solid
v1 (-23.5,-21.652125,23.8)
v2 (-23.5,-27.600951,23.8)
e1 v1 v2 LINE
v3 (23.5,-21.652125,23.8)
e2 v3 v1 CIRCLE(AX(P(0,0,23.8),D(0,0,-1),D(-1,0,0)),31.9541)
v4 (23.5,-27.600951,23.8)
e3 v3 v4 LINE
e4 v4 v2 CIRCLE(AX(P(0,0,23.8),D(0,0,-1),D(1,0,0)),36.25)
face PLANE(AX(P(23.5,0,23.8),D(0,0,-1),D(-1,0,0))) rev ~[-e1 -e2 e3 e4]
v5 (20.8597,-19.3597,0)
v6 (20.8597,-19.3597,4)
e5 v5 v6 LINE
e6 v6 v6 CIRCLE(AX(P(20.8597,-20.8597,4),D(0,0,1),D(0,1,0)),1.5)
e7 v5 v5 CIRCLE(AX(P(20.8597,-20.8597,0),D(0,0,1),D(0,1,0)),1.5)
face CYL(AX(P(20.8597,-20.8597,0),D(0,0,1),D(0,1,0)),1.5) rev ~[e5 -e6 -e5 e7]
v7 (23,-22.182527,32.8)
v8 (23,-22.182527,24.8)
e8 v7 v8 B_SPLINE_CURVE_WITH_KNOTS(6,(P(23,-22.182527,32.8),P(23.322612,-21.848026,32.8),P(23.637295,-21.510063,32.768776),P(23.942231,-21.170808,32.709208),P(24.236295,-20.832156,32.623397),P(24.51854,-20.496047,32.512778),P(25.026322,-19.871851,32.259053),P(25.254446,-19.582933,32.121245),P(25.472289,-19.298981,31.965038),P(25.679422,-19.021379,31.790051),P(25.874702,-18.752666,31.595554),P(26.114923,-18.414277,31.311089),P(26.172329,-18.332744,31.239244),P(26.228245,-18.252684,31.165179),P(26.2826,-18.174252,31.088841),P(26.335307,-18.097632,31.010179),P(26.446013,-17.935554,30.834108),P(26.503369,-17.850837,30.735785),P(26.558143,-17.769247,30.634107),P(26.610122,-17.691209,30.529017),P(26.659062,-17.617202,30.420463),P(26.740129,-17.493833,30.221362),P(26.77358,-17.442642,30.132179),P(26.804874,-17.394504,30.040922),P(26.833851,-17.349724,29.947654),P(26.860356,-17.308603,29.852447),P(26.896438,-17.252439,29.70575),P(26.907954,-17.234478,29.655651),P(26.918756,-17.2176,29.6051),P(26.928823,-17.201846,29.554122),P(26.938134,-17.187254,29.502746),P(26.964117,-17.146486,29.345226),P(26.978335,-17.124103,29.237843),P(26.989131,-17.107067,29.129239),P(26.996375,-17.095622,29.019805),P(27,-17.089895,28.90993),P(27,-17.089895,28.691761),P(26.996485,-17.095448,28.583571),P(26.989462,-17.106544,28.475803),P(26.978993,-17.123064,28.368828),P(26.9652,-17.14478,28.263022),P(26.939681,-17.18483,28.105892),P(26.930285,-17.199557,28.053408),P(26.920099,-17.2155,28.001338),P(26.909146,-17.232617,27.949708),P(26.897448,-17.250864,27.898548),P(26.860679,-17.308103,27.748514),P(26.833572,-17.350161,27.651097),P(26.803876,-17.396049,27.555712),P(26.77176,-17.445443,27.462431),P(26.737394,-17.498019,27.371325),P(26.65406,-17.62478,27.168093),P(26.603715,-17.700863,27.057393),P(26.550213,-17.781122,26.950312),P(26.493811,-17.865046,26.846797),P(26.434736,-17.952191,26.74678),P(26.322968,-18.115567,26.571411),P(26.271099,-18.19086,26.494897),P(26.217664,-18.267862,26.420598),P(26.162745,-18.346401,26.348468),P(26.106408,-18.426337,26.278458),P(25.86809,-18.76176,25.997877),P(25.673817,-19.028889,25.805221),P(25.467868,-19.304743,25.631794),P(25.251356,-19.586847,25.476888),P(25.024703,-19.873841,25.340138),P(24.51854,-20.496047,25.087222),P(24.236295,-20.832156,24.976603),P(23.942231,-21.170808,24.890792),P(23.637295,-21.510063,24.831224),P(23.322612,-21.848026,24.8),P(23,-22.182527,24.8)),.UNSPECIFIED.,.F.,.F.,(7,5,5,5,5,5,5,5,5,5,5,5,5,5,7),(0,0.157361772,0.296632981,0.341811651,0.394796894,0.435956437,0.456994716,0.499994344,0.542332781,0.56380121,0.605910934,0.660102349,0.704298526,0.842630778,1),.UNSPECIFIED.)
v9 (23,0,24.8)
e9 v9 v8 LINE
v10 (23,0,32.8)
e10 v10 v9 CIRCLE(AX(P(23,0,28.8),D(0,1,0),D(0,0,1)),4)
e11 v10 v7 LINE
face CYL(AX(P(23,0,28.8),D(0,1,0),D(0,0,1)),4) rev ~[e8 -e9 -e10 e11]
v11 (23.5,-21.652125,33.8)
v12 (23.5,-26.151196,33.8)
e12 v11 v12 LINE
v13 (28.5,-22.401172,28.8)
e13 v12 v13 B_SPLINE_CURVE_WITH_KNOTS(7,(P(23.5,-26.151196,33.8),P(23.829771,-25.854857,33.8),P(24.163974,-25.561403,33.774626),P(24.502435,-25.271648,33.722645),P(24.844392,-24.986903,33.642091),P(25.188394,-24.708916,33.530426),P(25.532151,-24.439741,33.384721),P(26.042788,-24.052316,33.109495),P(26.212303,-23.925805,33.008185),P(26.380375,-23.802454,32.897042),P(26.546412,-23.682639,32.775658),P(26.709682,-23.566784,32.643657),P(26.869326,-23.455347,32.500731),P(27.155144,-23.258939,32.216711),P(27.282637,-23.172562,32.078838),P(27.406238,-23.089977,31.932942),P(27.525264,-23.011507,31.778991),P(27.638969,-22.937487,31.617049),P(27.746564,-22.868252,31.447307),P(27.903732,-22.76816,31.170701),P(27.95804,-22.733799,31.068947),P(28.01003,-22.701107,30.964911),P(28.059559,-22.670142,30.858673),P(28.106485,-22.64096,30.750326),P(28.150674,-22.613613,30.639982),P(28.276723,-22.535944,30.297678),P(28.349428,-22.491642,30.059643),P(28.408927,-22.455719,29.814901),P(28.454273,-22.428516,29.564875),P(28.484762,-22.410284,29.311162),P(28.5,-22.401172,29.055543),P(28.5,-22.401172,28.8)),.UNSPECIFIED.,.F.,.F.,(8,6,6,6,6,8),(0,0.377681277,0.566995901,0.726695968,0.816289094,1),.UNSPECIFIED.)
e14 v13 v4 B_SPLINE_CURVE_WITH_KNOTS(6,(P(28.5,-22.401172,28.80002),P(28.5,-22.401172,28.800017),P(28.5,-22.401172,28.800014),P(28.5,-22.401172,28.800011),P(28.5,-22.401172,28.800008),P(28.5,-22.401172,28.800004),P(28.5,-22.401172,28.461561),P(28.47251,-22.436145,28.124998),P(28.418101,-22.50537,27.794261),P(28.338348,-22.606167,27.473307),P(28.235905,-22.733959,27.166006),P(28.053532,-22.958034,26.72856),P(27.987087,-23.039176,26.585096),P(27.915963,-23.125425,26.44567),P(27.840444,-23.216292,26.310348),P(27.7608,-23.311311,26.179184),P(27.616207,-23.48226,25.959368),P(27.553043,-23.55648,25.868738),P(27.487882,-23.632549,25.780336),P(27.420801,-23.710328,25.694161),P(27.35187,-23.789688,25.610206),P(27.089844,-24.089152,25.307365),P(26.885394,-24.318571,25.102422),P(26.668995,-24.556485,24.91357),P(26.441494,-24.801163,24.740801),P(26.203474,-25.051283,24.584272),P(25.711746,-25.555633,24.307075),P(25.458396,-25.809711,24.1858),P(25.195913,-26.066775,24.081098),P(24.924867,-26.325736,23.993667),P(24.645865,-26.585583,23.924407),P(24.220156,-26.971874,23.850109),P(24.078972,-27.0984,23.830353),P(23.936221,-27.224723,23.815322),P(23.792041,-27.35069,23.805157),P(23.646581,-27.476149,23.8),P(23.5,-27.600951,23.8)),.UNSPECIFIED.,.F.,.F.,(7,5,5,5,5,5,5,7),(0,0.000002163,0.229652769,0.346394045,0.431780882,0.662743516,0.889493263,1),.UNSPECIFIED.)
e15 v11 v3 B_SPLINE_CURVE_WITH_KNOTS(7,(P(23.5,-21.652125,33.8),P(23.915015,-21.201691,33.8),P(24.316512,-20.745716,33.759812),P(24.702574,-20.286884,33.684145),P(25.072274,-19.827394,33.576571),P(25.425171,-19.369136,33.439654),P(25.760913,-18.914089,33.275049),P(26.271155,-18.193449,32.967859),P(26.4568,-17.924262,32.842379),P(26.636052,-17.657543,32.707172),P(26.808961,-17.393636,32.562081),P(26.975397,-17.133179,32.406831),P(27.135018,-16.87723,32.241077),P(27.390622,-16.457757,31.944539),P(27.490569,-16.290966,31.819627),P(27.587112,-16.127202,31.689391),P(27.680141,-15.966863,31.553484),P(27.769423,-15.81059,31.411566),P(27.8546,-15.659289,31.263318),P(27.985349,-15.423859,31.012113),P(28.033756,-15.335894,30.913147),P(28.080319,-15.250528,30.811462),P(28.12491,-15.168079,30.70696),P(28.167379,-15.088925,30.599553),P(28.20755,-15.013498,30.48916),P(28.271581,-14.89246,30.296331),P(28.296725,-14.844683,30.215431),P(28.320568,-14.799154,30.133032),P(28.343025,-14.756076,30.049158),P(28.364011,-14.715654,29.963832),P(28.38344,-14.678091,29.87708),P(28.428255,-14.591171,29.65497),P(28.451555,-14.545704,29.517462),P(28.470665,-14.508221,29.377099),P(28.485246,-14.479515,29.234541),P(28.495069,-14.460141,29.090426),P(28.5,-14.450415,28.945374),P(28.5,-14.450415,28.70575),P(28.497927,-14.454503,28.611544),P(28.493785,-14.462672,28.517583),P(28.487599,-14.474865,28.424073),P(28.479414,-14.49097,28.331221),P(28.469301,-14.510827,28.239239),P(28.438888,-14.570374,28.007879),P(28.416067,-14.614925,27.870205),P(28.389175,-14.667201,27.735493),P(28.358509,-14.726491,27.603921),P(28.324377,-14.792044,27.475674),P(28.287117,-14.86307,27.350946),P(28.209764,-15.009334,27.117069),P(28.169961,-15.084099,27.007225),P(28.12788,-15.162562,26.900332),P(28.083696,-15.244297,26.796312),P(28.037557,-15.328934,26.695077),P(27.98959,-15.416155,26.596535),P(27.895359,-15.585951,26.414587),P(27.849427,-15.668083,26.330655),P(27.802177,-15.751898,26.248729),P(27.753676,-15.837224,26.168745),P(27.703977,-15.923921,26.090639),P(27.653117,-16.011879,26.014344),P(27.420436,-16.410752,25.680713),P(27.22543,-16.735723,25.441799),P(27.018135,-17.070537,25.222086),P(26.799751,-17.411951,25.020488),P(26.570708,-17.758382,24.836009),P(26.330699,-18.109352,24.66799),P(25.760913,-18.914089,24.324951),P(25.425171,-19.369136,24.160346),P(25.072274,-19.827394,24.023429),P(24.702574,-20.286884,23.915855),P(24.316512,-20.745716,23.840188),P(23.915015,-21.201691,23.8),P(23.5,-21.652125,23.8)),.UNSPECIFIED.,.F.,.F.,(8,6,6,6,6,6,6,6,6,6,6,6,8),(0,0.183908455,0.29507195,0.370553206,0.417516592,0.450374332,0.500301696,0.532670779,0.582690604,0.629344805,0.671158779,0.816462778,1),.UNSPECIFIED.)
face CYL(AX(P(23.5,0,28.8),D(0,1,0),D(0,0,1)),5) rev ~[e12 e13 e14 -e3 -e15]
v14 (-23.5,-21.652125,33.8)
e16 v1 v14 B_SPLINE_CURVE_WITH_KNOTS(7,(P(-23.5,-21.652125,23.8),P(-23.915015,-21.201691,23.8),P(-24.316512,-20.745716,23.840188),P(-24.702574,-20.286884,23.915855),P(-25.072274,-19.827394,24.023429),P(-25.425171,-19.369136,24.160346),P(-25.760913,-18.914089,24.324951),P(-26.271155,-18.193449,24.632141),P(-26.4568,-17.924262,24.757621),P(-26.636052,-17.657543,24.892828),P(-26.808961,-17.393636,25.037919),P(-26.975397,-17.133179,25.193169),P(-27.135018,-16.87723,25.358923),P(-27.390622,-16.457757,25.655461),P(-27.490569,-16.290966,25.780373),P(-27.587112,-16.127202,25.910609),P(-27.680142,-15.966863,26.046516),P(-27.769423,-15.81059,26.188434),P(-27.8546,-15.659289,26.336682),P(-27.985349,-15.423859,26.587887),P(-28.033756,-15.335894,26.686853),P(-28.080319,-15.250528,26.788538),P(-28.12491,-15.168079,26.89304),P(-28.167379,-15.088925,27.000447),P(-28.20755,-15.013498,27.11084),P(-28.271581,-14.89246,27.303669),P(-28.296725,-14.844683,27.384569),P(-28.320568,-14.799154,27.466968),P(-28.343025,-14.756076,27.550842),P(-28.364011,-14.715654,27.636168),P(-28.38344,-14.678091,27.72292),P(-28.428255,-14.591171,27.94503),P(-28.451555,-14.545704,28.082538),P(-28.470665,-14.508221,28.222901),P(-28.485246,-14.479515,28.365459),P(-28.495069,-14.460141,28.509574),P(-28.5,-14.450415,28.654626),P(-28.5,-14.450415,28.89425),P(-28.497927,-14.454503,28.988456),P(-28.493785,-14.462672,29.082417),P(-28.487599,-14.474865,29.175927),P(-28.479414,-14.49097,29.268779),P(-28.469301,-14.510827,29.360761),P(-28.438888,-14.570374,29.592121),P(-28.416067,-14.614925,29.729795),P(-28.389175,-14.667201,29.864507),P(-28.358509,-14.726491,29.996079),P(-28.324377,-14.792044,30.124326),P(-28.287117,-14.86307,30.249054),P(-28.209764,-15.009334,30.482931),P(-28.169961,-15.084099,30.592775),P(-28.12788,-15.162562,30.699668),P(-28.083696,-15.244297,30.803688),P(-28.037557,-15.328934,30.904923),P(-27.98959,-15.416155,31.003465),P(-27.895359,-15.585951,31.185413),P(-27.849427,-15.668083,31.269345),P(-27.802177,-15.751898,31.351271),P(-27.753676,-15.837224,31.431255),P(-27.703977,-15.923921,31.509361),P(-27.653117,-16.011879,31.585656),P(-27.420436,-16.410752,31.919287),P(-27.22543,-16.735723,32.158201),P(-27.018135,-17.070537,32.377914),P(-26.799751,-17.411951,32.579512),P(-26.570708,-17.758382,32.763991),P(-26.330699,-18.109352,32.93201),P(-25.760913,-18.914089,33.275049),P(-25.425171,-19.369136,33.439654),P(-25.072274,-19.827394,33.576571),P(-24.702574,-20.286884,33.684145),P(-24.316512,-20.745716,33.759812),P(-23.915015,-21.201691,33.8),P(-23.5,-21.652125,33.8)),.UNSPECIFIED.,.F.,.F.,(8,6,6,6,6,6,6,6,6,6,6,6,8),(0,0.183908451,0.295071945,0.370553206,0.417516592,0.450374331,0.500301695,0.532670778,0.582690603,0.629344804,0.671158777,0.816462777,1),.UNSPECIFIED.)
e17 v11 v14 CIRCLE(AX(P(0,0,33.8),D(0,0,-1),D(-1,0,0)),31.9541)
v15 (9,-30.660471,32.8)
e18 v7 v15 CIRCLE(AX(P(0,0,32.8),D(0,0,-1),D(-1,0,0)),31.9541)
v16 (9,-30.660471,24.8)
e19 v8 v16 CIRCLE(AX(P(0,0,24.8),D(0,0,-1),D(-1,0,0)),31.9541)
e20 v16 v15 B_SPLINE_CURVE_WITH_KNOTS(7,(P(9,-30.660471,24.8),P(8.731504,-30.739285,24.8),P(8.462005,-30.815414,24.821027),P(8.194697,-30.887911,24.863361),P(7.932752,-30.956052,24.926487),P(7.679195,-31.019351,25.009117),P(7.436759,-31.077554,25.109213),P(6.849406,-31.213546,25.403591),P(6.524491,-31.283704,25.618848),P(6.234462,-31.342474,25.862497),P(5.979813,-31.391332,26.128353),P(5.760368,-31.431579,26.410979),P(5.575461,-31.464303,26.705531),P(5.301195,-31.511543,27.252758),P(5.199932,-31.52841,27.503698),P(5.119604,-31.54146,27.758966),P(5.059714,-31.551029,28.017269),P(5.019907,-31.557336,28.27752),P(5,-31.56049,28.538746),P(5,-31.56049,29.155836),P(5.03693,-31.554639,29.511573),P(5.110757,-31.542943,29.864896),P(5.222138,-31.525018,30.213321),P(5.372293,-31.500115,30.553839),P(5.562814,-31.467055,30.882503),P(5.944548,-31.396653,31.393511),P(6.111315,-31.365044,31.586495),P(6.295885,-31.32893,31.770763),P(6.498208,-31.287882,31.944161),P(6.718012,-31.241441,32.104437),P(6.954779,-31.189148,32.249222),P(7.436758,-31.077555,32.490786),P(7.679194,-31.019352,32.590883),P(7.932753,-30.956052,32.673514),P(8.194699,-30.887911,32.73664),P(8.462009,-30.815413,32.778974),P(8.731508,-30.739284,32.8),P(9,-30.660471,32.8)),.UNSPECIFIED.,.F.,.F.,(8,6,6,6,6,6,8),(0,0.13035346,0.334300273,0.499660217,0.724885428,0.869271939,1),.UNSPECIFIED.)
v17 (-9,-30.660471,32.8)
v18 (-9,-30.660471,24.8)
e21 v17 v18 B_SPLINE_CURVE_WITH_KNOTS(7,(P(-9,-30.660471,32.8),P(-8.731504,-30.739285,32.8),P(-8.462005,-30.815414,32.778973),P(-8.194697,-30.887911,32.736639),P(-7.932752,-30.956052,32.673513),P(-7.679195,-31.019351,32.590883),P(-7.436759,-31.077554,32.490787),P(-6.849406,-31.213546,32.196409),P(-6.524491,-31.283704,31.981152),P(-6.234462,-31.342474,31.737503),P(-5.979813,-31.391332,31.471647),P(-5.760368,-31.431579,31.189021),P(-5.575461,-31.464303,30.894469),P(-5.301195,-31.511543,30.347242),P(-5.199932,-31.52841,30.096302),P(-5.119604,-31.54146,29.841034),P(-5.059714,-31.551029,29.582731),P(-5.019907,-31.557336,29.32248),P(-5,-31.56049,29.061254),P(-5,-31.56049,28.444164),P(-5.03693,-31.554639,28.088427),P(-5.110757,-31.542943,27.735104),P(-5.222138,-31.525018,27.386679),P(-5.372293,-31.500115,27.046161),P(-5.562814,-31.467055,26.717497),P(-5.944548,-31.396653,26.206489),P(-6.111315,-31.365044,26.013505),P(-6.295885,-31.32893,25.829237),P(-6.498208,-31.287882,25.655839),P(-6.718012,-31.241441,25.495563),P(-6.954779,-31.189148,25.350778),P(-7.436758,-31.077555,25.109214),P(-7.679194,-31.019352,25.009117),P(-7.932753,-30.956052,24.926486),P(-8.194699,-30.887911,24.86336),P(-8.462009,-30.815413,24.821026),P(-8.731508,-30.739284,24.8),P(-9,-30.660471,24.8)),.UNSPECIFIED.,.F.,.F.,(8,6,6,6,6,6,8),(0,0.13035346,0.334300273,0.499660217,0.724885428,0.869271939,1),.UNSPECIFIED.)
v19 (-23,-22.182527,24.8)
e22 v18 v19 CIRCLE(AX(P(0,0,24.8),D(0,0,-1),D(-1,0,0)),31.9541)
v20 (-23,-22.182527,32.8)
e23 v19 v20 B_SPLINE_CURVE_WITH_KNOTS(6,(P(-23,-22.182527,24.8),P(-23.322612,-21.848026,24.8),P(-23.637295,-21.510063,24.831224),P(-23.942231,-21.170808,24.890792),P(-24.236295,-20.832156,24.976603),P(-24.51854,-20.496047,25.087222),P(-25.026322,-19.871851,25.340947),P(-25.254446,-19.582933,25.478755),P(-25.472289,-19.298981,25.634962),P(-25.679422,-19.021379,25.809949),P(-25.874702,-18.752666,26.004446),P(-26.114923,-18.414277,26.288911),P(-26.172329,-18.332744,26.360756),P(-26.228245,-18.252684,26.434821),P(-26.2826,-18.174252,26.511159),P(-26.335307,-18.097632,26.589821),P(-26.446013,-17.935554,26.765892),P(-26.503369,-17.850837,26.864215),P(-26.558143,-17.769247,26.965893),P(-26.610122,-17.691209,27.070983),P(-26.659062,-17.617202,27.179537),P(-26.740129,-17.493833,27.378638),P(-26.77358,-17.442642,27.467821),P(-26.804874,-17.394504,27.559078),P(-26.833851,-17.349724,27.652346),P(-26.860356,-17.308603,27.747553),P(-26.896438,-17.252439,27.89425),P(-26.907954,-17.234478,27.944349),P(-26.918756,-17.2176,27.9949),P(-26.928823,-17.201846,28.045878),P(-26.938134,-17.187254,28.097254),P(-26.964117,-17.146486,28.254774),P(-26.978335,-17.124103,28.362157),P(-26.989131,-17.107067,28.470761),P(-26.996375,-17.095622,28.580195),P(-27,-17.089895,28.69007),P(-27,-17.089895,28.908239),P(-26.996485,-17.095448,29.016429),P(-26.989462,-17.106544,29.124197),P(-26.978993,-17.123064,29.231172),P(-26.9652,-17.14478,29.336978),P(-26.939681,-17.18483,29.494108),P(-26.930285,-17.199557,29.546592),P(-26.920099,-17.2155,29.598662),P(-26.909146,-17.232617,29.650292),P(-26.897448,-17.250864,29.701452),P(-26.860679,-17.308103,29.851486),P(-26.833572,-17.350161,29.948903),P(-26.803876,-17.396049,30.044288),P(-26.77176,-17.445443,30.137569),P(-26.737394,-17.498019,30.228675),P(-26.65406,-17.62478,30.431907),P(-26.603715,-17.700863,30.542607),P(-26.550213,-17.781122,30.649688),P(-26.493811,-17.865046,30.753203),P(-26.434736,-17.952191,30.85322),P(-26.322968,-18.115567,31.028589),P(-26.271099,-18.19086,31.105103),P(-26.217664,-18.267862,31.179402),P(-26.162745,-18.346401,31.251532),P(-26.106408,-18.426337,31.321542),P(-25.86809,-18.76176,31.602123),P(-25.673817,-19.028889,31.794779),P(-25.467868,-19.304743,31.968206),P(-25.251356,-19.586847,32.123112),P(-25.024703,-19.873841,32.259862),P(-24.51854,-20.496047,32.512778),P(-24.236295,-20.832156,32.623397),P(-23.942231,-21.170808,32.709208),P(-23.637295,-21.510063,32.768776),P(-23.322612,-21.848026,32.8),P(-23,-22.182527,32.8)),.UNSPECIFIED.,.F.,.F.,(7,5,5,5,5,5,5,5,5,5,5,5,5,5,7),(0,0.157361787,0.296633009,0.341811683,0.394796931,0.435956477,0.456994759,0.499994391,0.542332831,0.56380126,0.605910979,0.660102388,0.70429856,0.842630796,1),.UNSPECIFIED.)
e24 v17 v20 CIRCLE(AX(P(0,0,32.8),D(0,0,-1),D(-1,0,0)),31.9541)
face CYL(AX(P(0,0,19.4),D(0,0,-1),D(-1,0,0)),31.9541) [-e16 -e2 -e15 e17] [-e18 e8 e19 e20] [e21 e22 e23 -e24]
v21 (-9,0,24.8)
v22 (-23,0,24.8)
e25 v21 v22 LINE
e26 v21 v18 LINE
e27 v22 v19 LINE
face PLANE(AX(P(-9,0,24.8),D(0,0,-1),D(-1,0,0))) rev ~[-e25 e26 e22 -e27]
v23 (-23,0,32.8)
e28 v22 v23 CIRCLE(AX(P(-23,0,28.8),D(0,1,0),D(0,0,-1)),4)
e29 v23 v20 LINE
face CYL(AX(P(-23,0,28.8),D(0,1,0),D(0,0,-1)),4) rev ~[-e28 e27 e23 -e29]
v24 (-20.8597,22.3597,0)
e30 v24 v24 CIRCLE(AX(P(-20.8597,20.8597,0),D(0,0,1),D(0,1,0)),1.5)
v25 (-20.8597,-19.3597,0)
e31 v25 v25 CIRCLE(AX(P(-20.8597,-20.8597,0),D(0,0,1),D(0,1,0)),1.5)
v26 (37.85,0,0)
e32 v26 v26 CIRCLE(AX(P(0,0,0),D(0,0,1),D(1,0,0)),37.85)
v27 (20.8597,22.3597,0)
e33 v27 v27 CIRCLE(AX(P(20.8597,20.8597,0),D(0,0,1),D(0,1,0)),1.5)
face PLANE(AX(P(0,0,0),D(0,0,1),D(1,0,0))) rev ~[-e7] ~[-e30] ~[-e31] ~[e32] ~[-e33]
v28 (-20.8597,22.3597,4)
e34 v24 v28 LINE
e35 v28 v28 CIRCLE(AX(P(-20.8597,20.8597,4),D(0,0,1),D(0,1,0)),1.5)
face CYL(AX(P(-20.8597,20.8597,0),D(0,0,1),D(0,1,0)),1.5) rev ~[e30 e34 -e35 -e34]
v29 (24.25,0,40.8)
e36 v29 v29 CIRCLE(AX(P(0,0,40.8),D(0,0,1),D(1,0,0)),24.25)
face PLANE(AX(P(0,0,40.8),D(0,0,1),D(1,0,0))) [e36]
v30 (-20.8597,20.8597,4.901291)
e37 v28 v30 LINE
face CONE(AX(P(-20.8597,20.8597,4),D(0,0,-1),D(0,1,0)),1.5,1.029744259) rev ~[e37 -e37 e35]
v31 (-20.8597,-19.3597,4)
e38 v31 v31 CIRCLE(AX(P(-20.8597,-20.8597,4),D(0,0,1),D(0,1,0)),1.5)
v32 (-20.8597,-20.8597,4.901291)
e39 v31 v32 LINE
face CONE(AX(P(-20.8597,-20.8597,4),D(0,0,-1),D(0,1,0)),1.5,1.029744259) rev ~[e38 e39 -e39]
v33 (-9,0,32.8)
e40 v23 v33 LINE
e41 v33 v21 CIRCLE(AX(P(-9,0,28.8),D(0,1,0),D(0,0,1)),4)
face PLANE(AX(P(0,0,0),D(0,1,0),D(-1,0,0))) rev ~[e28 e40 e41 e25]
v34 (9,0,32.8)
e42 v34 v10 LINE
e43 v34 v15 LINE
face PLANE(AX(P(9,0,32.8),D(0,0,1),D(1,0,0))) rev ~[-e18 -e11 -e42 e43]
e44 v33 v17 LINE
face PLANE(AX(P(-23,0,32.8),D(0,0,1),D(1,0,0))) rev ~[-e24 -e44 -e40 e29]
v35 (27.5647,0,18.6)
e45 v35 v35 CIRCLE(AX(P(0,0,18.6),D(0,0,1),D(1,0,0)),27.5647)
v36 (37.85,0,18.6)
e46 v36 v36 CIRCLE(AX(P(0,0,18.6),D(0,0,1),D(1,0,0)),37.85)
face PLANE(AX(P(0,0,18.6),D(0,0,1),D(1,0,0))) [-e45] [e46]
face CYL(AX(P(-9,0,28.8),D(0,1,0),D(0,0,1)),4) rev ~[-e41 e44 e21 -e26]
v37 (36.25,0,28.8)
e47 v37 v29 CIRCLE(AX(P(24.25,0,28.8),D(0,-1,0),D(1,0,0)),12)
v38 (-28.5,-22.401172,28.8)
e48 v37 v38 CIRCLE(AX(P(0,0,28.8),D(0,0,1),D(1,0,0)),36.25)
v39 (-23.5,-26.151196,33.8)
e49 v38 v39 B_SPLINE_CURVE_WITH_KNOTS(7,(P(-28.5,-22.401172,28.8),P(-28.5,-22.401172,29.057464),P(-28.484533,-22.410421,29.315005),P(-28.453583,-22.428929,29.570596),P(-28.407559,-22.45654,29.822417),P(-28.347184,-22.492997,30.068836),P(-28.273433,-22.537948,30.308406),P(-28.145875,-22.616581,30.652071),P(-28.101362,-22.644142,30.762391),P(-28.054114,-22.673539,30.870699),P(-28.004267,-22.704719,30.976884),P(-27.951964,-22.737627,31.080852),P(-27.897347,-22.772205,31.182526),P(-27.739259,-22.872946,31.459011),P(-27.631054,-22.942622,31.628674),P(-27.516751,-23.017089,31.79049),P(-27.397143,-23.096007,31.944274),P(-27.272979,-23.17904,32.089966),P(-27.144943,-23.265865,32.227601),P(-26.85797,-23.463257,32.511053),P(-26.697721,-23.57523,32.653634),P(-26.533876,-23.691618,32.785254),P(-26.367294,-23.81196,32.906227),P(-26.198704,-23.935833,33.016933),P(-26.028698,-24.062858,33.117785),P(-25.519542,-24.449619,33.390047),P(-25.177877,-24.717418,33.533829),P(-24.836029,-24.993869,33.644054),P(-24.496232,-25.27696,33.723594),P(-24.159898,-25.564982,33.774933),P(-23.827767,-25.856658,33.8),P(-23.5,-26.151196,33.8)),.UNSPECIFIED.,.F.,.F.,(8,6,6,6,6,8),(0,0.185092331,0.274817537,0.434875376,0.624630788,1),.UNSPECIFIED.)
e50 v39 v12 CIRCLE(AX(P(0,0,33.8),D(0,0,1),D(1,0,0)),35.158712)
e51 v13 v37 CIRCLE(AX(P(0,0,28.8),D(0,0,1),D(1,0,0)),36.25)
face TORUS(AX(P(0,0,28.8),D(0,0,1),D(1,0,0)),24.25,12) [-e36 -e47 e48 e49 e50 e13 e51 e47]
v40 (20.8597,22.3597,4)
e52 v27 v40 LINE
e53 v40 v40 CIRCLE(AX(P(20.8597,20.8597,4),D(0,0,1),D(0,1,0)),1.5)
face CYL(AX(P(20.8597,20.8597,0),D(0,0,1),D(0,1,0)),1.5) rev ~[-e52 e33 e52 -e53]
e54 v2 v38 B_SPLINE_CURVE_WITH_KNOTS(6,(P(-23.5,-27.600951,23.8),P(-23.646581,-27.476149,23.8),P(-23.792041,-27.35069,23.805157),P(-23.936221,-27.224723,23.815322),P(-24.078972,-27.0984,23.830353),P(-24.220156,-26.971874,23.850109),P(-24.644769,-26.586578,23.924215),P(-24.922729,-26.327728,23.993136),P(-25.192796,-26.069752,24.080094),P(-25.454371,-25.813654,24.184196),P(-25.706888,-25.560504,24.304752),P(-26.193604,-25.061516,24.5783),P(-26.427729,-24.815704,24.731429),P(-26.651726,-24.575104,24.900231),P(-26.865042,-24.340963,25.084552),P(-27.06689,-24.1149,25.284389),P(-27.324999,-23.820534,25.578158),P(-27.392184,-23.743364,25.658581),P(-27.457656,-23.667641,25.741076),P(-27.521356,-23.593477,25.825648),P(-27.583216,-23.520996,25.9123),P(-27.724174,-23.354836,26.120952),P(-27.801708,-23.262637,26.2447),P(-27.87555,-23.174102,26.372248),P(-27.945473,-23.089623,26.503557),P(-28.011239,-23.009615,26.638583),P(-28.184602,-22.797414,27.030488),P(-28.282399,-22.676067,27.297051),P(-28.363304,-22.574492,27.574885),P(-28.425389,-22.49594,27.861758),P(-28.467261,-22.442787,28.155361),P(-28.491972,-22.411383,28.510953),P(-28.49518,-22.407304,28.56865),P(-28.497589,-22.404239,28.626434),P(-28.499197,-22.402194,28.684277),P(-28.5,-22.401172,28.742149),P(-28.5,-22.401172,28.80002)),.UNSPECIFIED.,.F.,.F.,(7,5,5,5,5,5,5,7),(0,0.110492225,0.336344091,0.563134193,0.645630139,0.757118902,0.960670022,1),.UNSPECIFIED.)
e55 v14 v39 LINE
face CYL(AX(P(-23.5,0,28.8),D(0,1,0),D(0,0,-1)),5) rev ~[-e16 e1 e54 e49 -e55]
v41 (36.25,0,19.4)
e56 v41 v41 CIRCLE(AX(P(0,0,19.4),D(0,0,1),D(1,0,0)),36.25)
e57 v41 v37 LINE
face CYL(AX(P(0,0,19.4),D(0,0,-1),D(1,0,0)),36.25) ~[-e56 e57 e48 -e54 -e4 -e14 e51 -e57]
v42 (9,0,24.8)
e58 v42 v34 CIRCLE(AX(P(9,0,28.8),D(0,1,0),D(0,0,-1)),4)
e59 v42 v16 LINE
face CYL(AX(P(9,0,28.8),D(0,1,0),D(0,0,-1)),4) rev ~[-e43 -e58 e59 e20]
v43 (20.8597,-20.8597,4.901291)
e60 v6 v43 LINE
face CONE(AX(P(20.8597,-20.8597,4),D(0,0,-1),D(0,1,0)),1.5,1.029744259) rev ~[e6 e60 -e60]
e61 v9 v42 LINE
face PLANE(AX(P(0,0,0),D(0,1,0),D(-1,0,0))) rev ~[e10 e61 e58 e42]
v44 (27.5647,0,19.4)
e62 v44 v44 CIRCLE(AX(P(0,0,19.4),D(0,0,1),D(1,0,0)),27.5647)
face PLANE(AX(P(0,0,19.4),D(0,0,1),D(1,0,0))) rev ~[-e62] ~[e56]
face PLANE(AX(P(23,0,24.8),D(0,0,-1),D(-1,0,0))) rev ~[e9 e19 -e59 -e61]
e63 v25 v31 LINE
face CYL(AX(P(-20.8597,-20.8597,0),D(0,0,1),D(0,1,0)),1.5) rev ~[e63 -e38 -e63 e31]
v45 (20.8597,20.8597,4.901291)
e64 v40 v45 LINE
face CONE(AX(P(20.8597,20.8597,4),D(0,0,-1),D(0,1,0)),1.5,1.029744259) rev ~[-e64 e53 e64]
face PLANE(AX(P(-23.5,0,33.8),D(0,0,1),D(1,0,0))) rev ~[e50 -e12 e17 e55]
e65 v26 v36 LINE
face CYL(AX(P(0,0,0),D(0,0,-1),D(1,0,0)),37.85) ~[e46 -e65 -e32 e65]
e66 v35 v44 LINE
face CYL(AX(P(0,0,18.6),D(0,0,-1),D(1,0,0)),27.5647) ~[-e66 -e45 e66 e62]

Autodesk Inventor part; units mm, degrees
ref_plane "YZ Plane" through (0, 0, 0) normal (1, 0, 0) x (0, 1, 0)
ref_plane "XZ Plane" through (0, 0, 0) normal (0, 1, 0) x (-1, 0, 0)
ref_plane "XY Plane" through (0, 0, 0) normal (0, 0, 1) x (1, 0, 0)
sketch "Skizze1" plane through (0, 0, 0) normal (0, 0, 1) x (1, 0, 0)
  circle A0 centre (0, 0) radius 37.85
  dimension "d0" = 75.7
extrude "Extrusion1" add sketch "Skizze1" along normal blind 18.6
sketch "Skizze2" plane through (0, 0, 18.6) normal (0, 0, 1) x (1, 0, 0)
  circle A0 centre (0, 0) radius 37.85 projected
  circle A1 centre (0, 0) radius 27.5647
extrude "Extrusion2" add sketch "Skizze2" along normal blind 0.8 contours A1
sketch "Skizze3" plane through (0, 0, 19.4) normal (0, 0, 1) x (1, 0, 0)
  circle A0 centre (0, 0) radius 27.5647 projected
  circle A1 centre (0, 0) radius 36.25
  dimension "d5" = 72.5
extrude "Extrusion3" add sketch "Skizze3" along normal blind 21.4 contours A0 | A1
fillet "Rundung1" radius 12 1 edges at (-36.25, 0, 40.8)
sketch "Skizze4" plane through (0, 0, 0) normal (0, 1, 0) x (-1, 0, 0)
  line L0 (36.25, 28.8) -> (-36.25, 28.8) projected
  line L1 (23.5, 28.8) -> (-23.5, 28.8) construction
  line L2 (23.5, 33.8) -> (-23.5, 33.8)
  line L3 (-23.5, 23.8) -> (23.5, 23.8)
  arc A0 (23.5, 23.8) -> (23.5, 33.8) centre (23.5, 28.8) ccw
  arc A1 (-23.5, 33.8) -> (-23.5, 23.8) centre (-23.5, 28.8) ccw
  line L4 (0, -8.16) -> (0, 48.96) construction
  point P0 (0, 0)
  point P1 (0, 28.8)
  dimension "d9" = 10
  dimension "d10" = 47
extrude "Extrusion4" cut sketch "Skizze4" against normal through all
sketch "Skizze5" plane through (0, 0, 19.4) normal (0, 0, -1) x (-1, 0, 0)
  circle A0 centre (0, 0) radius 27.5647 projected
  circle A1 centre (0, 0) radius 31.9541
extrude "Extrusion5" add sketch "Skizze5" against normal blind 15 contours A0 | A1
sketch "Skizze6" plane through (0, 0, 0) normal (0, 1, 0) x (-1, 0, 0)
  line L0 (40.5995, 28.8) -> (-50.4498, 28.8) construction
  line L1 (36.25, 19.4) -> (-36.25, 19.4) construction
  line L2 (0, -8.16) -> (0, 48.96) construction
  line L3 (23, 28.8) -> (9, 28.8) construction
  line L4 (23, 32.8) -> (9, 32.8)
  line L5 (9, 24.8) -> (23, 24.8)
  arc A0 (23, 24.8) -> (23, 32.8) centre (23, 28.8) ccw
  arc A1 (9, 32.8) -> (9, 24.8) centre (9, 28.8) ccw
  line L6 (-9, 28.8) -> (-23, 28.8) construction
  line L7 (-9, 32.8) -> (-23, 32.8)
  line L8 (-23, 24.8) -> (-9, 24.8)
  arc A2 (-9, 24.8) -> (-9, 32.8) centre (-9, 28.8) ccw
  arc A3 (-23, 32.8) -> (-23, 24.8) centre (-23, 28.8) ccw
  point P0 (0, 0)
  point P1 (16, 28.8)
  point P2 (-16, 28.8)
  dimension "d15" = 9.4
  dimension "d16" = 14
  dimension "d17" = 10
  dimension "d20" = 8
extrude "Extrusion6" cut sketch "Skizze6" against normal through all
sketch "Skizze7" plane through (0, 0, 0) normal (0, 0, -1) x (-1, 0, 0)
  circle A0 centre (0, 0) radius 29.5 construction
  line L0 (20.8597, 20.8597) -> (-20.8597, 20.8597) construction
  line L1 (-20.8597, 20.8597) -> (-20.8597, -20.8597) construction
  line L2 (-20.8597, -20.8597) -> (20.8597, -20.8597) construction
  line L3 (20.8597, -20.8597) -> (20.8597, 20.8597) construction
  line L4 (20.8597, 20.8597) -> (-20.8597, -20.8597) construction
  line L5 (-20.8597, 20.8597) -> (20.8597, -20.8597) construction
  dimension "d21" = 59
hole "Bohrung1" at (-20.8597, -20.8597, 0) at (20.8597, -20.8597, 0) at (20.8597, 20.8597, 0) at (-20.8597, 20.8597, 0) direction (0, 0, 1) diameter 3 depth 4 tip angle 118
properties part number "RPLidar A2" material "Kupfer, Guss"
